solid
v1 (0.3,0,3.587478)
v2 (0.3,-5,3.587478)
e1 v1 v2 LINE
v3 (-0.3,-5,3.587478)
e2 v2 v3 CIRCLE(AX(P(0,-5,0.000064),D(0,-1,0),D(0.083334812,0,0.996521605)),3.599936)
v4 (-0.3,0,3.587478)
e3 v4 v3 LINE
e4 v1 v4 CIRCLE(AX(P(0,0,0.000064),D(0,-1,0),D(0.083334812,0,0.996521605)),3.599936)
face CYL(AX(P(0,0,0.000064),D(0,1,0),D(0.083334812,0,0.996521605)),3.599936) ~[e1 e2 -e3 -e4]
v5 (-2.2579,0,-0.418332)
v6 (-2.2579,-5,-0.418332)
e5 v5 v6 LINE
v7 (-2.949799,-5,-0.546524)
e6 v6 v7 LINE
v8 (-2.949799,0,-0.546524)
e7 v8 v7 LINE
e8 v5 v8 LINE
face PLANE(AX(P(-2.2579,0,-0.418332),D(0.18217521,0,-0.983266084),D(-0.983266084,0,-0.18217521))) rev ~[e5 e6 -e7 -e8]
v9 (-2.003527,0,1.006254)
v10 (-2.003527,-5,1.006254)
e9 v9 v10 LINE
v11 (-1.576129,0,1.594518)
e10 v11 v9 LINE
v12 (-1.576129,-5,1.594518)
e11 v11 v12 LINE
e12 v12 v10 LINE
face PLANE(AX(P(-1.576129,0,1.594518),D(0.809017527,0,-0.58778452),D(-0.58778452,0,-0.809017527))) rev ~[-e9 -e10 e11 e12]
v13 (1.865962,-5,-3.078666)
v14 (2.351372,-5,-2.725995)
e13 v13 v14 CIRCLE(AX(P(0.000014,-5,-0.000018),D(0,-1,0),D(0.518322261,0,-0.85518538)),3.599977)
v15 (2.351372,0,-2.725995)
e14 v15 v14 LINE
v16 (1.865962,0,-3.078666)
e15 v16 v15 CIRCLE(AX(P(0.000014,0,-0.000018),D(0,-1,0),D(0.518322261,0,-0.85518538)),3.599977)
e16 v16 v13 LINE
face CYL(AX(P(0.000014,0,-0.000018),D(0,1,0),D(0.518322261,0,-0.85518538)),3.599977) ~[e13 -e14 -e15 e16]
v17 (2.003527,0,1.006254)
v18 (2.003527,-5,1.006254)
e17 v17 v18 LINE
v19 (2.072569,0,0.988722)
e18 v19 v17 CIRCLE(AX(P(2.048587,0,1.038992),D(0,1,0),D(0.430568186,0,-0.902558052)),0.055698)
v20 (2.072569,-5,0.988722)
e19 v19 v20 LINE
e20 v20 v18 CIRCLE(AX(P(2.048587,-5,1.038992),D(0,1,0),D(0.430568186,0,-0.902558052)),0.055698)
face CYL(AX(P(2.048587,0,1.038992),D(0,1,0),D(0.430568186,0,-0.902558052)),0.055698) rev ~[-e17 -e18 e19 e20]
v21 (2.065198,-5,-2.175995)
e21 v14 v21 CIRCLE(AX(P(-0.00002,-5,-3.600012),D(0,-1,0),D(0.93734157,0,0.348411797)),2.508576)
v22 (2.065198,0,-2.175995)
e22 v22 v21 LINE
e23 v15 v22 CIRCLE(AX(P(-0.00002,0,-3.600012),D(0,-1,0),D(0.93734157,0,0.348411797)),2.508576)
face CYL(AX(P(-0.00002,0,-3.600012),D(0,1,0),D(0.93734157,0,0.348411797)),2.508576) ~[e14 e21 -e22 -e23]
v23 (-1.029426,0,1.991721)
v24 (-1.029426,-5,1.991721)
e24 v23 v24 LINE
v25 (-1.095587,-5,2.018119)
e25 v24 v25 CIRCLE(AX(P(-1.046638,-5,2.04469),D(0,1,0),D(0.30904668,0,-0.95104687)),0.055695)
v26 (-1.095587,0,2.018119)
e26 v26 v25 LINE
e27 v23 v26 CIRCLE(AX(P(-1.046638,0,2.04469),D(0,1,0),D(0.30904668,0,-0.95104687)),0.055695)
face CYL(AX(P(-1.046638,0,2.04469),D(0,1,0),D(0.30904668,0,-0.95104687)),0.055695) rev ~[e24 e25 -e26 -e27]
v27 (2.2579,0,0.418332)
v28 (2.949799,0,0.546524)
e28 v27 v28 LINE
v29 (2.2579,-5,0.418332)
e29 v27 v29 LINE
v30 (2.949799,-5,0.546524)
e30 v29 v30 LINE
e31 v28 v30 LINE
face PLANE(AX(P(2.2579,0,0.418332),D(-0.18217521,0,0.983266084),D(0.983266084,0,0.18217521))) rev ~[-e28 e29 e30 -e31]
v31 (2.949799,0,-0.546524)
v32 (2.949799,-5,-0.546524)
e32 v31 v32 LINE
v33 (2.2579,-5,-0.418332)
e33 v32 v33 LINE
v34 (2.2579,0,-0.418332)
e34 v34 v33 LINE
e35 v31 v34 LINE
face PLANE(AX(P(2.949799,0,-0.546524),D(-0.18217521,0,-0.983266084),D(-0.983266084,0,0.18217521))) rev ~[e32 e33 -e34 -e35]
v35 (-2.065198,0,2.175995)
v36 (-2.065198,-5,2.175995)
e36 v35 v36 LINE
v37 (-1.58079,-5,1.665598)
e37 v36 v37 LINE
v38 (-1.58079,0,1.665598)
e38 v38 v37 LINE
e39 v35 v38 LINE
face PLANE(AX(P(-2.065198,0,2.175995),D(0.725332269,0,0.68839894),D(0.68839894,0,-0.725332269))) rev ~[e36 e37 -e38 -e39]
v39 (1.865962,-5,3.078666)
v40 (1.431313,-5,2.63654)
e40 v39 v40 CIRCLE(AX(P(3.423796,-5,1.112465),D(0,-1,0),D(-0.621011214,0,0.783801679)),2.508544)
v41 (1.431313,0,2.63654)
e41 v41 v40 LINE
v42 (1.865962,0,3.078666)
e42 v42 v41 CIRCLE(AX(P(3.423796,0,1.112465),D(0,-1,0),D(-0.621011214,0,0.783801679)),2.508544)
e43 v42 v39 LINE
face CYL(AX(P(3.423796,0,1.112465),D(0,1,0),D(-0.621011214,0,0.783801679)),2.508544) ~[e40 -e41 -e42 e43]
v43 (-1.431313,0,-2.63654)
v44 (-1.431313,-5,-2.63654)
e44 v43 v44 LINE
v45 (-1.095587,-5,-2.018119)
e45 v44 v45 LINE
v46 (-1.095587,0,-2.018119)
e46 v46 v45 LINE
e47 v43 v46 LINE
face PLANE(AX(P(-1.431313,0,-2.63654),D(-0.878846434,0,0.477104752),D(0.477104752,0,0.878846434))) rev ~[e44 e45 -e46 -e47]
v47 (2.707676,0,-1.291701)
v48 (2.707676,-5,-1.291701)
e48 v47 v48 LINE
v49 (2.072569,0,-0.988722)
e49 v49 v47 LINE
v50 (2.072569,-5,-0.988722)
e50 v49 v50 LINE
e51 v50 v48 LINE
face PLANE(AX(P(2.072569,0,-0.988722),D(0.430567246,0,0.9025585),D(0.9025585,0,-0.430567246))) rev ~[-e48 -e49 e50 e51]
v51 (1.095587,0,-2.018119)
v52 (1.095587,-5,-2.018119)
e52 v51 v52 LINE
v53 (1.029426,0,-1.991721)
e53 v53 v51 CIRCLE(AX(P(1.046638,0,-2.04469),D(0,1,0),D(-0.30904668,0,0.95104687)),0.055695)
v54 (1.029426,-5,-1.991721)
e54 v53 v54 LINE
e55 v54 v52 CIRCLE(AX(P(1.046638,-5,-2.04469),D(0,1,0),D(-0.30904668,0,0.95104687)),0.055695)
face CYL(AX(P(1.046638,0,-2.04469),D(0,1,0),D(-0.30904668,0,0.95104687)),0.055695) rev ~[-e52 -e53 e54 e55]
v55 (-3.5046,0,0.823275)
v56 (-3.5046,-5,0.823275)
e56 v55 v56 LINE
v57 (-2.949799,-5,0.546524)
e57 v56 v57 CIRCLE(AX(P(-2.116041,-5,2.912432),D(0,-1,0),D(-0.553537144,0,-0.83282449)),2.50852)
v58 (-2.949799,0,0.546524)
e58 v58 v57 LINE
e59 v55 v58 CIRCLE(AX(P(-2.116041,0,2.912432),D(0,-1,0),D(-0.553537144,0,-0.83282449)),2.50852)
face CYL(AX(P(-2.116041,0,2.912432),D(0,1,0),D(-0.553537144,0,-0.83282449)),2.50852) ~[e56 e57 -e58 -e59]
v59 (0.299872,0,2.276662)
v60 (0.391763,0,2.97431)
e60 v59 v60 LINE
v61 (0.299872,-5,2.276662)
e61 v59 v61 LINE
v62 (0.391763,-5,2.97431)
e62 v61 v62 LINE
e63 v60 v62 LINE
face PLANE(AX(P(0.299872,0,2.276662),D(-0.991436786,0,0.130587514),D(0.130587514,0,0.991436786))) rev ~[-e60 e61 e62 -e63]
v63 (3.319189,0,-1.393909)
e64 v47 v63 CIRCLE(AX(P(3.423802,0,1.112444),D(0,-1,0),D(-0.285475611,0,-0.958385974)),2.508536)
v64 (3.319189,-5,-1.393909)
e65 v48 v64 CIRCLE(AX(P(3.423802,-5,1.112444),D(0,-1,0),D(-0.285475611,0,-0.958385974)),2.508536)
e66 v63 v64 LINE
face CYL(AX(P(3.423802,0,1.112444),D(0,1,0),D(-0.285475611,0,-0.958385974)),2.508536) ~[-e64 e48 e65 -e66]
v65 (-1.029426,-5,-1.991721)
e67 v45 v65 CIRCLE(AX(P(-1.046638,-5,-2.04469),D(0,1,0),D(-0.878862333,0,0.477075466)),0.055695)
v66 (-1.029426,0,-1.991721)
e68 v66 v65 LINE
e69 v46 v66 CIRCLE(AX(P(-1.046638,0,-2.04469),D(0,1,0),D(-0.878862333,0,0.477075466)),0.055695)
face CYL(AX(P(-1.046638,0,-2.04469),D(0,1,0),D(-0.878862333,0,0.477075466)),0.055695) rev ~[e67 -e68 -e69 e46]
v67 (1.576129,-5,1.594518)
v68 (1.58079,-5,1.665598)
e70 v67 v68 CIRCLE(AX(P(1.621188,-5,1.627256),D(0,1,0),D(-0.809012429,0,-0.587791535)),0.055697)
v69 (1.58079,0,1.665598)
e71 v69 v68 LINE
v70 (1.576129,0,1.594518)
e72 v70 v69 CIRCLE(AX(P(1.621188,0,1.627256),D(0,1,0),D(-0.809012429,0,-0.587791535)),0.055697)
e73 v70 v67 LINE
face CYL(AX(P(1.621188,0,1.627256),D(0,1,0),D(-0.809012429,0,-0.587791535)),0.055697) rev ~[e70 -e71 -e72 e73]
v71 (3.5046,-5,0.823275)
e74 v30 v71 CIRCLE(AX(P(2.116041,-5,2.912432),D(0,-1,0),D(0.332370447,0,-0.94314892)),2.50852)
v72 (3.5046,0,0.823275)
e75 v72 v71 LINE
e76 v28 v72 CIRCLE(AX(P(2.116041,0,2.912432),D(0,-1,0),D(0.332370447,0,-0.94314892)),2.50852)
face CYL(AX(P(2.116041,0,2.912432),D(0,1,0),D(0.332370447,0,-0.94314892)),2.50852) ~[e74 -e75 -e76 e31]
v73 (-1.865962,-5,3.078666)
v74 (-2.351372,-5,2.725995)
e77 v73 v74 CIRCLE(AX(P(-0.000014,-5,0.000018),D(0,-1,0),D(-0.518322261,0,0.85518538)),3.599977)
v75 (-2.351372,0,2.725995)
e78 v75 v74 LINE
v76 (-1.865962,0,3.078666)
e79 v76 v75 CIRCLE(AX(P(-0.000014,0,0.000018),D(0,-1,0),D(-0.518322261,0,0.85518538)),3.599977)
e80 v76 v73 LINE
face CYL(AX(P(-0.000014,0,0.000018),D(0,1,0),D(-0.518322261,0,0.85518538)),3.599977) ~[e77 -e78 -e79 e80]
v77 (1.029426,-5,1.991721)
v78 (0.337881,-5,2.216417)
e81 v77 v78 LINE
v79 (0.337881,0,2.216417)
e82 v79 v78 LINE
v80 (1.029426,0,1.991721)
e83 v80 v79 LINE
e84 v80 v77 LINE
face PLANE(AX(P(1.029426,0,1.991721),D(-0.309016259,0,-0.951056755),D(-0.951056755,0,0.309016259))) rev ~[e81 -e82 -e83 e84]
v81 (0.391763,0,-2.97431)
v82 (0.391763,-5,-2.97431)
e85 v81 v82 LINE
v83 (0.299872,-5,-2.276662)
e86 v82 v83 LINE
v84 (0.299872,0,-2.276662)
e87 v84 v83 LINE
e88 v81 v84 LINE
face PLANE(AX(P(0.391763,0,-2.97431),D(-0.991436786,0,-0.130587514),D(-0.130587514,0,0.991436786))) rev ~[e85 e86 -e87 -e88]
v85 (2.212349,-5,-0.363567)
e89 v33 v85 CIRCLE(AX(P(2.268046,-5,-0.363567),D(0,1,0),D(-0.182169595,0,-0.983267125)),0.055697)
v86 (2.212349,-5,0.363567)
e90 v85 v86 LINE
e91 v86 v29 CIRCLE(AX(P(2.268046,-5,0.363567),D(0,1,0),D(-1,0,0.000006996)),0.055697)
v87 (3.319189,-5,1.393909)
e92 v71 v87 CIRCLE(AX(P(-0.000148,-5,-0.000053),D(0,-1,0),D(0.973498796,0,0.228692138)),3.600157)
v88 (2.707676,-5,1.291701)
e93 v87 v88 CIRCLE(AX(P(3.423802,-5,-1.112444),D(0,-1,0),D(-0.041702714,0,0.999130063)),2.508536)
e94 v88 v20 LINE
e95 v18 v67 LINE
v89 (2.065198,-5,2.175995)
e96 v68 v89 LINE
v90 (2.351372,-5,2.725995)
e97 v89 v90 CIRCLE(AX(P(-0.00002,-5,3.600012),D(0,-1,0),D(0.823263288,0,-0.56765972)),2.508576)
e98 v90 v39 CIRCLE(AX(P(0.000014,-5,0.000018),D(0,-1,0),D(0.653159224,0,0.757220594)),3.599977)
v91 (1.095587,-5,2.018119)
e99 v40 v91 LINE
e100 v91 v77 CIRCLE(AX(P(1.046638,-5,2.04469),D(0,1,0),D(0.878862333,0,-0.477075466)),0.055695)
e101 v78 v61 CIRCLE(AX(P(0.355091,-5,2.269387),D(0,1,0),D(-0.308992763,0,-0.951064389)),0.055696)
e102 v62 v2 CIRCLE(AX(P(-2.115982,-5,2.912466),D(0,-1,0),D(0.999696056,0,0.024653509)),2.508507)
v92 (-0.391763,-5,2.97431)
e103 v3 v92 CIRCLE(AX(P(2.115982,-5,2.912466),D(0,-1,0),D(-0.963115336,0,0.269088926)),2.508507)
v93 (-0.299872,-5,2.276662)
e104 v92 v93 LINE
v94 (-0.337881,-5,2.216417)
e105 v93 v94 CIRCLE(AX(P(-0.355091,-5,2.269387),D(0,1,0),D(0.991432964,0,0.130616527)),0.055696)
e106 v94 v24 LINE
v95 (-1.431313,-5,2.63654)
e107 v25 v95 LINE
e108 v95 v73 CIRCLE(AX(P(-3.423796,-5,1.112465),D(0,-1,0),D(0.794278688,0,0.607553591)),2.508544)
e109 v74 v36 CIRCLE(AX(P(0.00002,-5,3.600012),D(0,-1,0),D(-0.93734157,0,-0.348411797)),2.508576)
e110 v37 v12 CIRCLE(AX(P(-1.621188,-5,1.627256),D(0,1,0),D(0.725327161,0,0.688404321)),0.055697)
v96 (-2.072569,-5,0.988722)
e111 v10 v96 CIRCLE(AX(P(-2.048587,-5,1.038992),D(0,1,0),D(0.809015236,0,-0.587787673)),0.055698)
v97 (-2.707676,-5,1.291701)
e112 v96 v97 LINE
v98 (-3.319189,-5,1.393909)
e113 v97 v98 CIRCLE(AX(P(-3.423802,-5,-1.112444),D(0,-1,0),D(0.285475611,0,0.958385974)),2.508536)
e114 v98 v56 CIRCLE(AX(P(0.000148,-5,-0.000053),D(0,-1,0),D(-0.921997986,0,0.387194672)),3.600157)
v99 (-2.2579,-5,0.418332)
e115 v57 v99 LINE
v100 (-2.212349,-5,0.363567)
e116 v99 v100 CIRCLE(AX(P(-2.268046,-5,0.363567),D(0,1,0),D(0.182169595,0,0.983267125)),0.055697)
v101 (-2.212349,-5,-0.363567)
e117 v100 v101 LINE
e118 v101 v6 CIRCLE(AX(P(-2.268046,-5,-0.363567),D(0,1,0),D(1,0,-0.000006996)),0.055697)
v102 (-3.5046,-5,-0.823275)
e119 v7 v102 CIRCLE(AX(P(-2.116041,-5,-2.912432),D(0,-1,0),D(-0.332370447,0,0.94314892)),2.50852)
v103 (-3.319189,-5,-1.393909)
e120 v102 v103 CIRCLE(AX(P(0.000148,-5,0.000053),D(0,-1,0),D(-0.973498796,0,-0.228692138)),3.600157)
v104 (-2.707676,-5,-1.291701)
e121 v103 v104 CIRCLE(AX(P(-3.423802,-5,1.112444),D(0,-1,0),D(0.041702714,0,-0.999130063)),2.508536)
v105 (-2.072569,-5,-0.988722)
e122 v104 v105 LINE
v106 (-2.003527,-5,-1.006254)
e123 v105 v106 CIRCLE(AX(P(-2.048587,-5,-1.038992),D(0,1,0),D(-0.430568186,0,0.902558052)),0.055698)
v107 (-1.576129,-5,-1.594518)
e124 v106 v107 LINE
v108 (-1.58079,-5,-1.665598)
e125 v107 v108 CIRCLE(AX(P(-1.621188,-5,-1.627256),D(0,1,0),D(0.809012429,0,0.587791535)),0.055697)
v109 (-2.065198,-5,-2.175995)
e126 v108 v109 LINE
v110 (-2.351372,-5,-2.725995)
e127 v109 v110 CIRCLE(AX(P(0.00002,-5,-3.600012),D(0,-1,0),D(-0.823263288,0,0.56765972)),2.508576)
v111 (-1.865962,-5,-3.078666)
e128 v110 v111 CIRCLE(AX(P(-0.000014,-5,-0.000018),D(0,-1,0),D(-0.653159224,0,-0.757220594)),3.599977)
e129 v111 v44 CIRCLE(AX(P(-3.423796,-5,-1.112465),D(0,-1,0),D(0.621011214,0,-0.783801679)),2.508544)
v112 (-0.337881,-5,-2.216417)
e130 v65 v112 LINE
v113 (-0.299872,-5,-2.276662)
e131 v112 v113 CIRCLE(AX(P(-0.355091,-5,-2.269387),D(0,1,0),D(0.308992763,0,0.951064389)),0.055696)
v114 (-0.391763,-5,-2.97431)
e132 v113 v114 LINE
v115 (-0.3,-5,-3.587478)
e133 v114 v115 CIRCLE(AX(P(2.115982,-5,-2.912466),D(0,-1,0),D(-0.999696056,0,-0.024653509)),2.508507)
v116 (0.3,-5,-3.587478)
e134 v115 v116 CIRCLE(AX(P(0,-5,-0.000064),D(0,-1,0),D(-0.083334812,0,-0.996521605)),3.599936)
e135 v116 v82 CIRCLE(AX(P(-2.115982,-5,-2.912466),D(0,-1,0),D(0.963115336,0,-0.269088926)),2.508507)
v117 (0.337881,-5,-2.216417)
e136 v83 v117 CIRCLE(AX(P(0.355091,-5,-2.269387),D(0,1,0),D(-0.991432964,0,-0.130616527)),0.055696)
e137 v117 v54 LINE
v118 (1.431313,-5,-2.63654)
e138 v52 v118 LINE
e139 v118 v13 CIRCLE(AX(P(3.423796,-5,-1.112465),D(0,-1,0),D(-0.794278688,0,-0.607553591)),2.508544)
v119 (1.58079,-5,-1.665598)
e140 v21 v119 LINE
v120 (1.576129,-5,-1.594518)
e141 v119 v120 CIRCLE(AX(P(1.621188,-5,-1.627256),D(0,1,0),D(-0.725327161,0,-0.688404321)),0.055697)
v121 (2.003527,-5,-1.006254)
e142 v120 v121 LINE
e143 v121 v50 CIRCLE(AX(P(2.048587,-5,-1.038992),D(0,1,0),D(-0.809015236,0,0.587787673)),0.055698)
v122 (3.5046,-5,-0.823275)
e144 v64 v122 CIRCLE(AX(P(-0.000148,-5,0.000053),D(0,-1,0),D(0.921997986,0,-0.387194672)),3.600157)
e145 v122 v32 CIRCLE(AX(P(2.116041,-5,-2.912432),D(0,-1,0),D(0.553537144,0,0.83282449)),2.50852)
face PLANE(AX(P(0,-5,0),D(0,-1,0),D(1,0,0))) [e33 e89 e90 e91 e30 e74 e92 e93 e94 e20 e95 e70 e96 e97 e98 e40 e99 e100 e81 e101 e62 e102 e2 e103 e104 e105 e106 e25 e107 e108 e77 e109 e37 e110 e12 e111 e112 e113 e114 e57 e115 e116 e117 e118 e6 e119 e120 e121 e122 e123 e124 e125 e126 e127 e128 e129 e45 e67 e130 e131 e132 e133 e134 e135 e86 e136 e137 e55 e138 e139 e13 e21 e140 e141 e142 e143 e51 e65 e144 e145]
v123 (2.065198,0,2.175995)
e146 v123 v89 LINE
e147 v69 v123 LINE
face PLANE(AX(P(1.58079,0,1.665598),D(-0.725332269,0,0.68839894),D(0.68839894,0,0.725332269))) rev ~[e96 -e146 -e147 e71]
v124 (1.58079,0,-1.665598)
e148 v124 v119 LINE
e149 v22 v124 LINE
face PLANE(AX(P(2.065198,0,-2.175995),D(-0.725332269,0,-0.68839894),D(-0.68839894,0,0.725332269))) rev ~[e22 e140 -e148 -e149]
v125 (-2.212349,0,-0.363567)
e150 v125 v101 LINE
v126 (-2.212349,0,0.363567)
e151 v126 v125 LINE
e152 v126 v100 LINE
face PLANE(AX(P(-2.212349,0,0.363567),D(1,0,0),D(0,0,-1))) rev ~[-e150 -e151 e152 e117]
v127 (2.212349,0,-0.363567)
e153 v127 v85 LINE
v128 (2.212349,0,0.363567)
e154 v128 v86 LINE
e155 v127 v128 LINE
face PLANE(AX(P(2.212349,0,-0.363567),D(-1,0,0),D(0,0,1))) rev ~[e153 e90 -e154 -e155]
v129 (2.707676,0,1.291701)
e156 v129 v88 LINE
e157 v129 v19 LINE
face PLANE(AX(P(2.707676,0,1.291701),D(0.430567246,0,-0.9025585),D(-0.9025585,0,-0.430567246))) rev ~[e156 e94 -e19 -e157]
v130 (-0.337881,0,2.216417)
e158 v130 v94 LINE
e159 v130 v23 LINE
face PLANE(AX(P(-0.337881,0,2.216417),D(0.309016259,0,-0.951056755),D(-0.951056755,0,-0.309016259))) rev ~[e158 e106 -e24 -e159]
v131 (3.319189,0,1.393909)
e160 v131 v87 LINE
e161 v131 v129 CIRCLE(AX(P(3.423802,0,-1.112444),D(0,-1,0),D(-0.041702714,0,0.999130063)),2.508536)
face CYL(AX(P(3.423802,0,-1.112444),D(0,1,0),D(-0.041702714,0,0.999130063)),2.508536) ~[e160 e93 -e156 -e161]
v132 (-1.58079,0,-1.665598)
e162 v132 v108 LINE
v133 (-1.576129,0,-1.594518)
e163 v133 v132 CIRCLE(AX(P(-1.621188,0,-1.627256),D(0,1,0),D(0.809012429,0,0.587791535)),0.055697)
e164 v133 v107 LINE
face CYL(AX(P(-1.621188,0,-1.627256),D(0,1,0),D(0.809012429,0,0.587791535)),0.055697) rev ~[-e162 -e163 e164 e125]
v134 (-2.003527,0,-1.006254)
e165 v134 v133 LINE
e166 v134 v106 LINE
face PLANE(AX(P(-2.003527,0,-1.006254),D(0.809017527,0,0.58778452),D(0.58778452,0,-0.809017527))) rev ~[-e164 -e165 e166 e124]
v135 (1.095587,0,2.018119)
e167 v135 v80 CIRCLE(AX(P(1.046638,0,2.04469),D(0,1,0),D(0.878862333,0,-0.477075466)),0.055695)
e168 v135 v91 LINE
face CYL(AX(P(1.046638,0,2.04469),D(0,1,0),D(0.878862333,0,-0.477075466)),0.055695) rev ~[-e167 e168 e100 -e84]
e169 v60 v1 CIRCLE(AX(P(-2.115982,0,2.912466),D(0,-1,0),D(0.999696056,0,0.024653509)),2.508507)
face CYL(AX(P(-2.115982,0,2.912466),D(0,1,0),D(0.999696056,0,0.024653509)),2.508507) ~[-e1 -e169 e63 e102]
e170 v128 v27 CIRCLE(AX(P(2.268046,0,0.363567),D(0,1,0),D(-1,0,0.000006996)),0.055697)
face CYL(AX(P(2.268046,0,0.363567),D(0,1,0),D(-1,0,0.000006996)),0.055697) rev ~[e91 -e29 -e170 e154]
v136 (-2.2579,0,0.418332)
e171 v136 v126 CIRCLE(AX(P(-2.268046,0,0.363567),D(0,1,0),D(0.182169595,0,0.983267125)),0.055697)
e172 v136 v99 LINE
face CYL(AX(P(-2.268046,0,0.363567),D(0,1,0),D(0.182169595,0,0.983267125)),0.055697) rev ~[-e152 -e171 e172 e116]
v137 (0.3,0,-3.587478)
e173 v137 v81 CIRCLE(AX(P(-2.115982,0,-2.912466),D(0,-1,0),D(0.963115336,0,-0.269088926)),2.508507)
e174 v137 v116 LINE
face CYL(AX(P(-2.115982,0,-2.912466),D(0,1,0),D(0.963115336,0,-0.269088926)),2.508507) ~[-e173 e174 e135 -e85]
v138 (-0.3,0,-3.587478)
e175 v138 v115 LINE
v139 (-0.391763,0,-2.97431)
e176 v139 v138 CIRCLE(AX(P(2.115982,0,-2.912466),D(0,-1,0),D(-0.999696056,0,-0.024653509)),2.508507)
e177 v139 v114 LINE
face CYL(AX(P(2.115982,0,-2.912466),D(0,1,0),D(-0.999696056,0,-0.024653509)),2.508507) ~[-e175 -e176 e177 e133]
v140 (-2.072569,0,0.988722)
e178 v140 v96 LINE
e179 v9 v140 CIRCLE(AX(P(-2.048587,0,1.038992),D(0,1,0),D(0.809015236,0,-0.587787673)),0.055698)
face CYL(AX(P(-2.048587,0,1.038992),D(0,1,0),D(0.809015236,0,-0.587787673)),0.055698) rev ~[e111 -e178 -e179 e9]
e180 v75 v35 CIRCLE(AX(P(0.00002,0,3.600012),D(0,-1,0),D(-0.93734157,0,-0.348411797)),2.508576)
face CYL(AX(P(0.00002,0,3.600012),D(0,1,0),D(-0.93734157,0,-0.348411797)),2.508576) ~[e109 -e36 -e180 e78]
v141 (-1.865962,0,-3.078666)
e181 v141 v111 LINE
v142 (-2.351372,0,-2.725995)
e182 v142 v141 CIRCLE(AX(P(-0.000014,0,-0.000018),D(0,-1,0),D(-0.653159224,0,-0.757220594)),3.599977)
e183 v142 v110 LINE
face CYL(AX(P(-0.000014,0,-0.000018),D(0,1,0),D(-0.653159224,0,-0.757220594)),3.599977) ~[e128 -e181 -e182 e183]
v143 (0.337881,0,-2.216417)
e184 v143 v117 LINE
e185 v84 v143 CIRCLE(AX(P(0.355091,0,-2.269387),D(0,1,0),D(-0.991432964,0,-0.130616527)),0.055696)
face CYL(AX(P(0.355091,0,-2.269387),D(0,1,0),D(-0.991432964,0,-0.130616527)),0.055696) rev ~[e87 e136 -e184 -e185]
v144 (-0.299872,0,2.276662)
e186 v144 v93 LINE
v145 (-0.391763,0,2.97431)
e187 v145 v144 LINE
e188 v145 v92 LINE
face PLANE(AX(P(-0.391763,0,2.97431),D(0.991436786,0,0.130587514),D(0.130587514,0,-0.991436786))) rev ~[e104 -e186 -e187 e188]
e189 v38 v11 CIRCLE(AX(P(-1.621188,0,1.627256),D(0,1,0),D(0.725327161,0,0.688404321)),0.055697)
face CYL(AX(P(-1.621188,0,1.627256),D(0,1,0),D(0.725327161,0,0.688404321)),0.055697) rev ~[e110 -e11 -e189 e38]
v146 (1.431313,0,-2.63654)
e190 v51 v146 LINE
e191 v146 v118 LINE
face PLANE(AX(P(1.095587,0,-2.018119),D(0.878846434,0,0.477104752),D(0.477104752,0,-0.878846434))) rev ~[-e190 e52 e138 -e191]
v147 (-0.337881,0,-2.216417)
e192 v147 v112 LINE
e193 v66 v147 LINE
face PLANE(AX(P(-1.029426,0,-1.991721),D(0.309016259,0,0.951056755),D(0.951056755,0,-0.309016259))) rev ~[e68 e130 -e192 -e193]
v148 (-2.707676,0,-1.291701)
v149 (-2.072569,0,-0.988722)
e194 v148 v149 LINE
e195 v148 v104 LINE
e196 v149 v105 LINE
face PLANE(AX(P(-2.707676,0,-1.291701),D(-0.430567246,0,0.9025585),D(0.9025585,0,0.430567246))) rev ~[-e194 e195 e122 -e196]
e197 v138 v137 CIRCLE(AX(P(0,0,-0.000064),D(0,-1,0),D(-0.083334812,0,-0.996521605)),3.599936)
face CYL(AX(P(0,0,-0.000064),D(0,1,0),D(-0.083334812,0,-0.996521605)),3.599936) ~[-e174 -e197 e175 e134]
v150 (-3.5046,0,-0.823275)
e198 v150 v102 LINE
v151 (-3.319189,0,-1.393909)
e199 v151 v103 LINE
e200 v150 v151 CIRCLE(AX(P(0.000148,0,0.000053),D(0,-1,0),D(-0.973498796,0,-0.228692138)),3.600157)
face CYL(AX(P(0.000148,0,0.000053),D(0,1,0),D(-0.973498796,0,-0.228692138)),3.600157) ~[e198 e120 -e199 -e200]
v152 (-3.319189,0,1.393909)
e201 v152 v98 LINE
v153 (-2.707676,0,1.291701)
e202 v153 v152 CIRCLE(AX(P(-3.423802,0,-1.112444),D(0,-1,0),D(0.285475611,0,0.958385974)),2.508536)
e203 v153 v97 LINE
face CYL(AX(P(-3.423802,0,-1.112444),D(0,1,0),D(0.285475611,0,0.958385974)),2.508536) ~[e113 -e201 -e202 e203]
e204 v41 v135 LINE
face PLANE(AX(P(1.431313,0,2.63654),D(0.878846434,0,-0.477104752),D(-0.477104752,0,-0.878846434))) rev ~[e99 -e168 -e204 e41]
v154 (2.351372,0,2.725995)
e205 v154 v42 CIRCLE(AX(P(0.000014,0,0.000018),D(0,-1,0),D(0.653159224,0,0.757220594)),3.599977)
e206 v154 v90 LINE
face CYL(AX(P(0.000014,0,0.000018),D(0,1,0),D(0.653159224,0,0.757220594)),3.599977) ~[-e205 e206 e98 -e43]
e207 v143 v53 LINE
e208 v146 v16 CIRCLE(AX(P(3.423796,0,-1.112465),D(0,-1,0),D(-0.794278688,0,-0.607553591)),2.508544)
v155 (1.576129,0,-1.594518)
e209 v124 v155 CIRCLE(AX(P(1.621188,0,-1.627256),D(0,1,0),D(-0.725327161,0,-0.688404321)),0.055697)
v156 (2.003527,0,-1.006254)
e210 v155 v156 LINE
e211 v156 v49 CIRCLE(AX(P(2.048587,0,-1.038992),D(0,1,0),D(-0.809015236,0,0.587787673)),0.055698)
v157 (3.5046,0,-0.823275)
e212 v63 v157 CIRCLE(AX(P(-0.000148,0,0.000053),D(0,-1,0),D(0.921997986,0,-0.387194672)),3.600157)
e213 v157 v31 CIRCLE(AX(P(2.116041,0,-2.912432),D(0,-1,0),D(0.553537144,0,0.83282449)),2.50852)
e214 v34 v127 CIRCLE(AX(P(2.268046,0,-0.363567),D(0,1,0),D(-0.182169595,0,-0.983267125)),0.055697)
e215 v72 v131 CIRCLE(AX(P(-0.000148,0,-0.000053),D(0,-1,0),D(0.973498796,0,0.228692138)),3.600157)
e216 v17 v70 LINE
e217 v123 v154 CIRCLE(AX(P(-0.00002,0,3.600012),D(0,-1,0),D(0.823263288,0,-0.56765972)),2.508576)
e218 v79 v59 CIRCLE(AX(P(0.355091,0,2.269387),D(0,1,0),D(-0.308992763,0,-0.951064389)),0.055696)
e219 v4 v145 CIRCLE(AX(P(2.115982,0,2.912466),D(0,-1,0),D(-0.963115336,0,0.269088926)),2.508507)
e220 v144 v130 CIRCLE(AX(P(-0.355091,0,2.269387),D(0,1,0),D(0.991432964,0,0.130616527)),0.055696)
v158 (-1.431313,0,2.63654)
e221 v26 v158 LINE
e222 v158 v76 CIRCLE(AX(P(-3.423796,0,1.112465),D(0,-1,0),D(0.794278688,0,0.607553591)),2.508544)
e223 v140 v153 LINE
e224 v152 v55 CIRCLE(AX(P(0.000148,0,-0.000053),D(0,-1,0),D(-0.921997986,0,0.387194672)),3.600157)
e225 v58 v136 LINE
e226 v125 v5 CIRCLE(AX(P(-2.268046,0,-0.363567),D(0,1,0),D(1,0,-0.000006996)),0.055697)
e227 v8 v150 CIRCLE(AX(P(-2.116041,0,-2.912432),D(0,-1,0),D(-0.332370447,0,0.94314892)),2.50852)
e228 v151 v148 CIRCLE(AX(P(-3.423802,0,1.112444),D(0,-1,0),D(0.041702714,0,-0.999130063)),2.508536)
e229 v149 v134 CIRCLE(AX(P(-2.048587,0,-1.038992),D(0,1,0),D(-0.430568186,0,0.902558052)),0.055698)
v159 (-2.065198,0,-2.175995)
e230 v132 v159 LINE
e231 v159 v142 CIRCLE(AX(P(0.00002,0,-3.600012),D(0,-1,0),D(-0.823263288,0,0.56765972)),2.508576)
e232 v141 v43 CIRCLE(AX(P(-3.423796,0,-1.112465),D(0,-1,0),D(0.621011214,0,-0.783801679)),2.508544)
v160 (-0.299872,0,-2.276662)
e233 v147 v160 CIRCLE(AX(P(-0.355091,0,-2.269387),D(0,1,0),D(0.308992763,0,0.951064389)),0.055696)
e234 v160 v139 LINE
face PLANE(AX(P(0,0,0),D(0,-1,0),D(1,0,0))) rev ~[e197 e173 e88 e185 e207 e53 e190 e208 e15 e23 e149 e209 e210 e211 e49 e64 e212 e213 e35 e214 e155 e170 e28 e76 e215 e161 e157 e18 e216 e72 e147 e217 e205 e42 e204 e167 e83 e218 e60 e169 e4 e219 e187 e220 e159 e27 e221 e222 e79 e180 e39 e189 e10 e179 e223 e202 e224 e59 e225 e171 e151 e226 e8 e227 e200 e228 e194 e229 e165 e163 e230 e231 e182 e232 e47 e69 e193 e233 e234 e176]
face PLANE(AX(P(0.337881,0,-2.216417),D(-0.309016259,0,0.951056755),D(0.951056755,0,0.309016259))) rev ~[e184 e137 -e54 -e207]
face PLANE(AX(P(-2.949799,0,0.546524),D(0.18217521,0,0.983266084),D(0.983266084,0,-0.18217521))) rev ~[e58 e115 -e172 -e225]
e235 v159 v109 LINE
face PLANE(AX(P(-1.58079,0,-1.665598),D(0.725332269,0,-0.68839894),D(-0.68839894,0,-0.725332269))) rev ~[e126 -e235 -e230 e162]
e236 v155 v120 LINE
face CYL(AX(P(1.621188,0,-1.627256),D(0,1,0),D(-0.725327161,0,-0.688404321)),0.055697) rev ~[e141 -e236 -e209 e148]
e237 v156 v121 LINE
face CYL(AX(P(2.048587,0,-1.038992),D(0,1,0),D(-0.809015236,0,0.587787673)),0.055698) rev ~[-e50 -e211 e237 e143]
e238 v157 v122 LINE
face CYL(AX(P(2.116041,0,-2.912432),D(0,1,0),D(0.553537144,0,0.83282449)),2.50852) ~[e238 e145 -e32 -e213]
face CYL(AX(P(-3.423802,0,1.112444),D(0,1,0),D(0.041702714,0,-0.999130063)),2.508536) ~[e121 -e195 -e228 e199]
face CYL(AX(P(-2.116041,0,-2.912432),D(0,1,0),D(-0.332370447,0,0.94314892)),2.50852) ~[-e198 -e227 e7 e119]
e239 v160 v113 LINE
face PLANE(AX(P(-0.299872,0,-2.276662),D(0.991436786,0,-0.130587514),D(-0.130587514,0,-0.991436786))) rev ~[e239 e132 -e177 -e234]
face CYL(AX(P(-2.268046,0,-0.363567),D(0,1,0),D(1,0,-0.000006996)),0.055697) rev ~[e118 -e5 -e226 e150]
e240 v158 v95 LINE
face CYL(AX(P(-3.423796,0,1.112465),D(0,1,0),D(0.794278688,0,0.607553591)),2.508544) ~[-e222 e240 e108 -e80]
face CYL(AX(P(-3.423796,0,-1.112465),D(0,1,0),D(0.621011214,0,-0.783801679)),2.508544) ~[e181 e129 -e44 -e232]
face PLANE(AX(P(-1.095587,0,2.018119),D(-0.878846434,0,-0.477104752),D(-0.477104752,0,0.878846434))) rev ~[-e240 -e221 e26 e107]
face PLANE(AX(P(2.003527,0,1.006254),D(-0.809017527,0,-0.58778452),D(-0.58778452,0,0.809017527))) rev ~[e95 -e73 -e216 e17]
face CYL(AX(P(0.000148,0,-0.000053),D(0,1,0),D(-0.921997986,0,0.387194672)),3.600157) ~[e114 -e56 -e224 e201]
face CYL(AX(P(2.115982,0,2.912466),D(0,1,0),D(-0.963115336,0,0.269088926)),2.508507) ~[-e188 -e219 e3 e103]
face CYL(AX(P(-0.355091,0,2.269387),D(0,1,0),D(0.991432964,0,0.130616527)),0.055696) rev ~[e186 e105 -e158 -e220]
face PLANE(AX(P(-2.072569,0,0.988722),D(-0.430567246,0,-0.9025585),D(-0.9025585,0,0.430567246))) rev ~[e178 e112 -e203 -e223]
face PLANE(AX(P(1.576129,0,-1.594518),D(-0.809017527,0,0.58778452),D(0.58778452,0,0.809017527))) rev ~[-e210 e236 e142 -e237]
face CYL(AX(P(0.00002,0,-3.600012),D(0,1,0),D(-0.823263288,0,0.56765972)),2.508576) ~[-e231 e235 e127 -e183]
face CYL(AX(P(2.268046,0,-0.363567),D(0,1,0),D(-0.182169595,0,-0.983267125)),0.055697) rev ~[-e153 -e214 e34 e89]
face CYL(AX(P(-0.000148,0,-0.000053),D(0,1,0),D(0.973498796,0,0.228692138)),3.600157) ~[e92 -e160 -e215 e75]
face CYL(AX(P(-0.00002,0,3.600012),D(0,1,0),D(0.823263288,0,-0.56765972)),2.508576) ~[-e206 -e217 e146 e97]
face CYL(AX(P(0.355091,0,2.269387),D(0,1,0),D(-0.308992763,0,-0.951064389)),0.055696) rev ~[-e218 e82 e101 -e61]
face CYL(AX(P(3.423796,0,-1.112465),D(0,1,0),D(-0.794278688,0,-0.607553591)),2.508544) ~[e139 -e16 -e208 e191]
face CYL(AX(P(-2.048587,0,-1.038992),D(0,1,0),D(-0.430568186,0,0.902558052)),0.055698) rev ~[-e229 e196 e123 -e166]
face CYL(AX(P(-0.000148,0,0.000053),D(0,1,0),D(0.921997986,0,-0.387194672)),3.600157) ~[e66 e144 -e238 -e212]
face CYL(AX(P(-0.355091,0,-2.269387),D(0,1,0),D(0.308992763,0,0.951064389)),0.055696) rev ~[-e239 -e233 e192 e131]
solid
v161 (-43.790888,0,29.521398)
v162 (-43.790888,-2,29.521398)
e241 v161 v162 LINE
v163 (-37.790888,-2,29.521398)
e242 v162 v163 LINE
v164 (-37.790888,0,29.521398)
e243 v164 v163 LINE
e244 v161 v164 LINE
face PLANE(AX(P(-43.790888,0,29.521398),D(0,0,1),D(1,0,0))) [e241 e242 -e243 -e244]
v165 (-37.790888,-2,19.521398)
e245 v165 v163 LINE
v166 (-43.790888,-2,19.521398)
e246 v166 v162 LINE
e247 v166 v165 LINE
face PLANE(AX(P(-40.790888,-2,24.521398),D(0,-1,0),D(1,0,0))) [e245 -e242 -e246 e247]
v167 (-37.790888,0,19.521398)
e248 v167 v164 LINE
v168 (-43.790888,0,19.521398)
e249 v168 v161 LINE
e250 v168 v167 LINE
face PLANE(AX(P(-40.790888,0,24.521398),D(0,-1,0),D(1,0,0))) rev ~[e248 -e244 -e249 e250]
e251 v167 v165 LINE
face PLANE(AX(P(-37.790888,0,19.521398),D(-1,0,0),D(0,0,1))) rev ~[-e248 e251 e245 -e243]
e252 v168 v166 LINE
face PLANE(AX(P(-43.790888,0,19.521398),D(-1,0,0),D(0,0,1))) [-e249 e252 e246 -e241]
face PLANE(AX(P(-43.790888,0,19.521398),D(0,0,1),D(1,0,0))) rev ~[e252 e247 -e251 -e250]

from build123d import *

# Parameters (mm, degrees)
F1_DEPTH = 5
F2_W     = 6
F2_H     = 10
F3_DEPTH = 2


with BuildPart() as f1:
    # F0 (on Front) → F1 (new body)
    with BuildSketch(Plane.XZ):
        with BuildLine():
            ThreePointArc((0.391763, 2.97431), (0.364898, 3.28374), (0.3, 3.587478))
            ThreePointArc((0.3, 3.587478), (0, 3.6), (-0.3, 3.587478))
            ThreePointArc((-0.3, 3.587478), (-0.364898, 3.28374), (-0.391763, 2.97431))
            Line((-0.391763, 2.97431), (-0.299872, 2.276662))
            ThreePointArc((-0.299872, 2.276662), (-0.307986, 2.239669), (-0.337881, 2.216417))
            Line((-0.337881, 2.216417), (-1.029426, 1.991721))
            ThreePointArc((-1.029426, 1.991721), (-1.067278, 1.99296), (-1.095587, 2.018119))
            Line((-1.095587, 2.018119), (-1.431313, 2.63654))
            ThreePointArc((-1.431313, 2.63654), (-1.634926, 2.871083), (-1.865962, 3.078666))
            ThreePointArc((-1.865962, 3.078666), (-2.116027, 2.912461), (-2.351372, 2.725995))
            ThreePointArc((-2.351372, 2.725995), (-2.225342, 2.44212), (-2.065198, 2.175995))
            Line((-2.065198, 2.175995), (-1.58079, 1.665598))
            ThreePointArc((-1.58079, 1.665598), (-1.565611, 1.630901), (-1.576129, 1.594518))
            Line((-1.576129, 1.594518), (-2.003527, 1.006254))
            ThreePointArc((-2.003527, 1.006254), (-2.034879, 0.985008), (-2.072569, 0.988722))
            Line((-2.072569, 0.988722), (-2.707676, 1.291701))
            ThreePointArc((-2.707676, 1.291701), (-3.010263, 1.36177), (-3.319189, 1.393909))
            ThreePointArc((-3.319189, 1.393909), (-3.423803, 1.112461), (-3.5046, 0.823275))
            ThreePointArc((-3.5046, 0.823275), (-3.235782, 0.667693), (-2.949799, 0.546524))
            Line((-2.949799, 0.546524), (-2.2579, 0.418332))
            ThreePointArc((-2.2579, 0.418332), (-2.225225, 0.399183), (-2.212349, 0.363567))
            Line((-2.212349, 0.363567), (-2.212349, -0.363567))
            ThreePointArc((-2.212349, -0.363567), (-2.225225, -0.399183), (-2.2579, -0.418332))
            Line((-2.2579, -0.418332), (-2.949799, -0.546524))
            ThreePointArc((-2.949799, -0.546524), (-3.235782, -0.667693), (-3.5046, -0.823275))
            ThreePointArc((-3.5046, -0.823275), (-3.423803, -1.112461), (-3.319189, -1.393909))
            ThreePointArc((-3.319189, -1.393909), (-3.010263, -1.36177), (-2.707676, -1.291701))
            Line((-2.707676, -1.291701), (-2.072569, -0.988722))
            ThreePointArc((-2.072569, -0.988722), (-2.034879, -0.985008), (-2.003527, -1.006254))
            Line((-2.003527, -1.006254), (-1.576129, -1.594518))
            ThreePointArc((-1.576129, -1.594518), (-1.565611, -1.630901), (-1.58079, -1.665598))
            Line((-1.58079, -1.665598), (-2.065198, -2.175995))
            ThreePointArc((-2.065198, -2.175995), (-2.225342, -2.44212), (-2.351372, -2.725995))
            ThreePointArc((-2.351372, -2.725995), (-2.116027, -2.912461), (-1.865962, -3.078666))
            ThreePointArc((-1.865962, -3.078666), (-1.634926, -2.871083), (-1.431313, -2.63654))
            Line((-1.431313, -2.63654), (-1.095587, -2.018119))
            ThreePointArc((-1.095587, -2.018119), (-1.067278, -1.99296), (-1.029426, -1.991721))
            Line((-1.029426, -1.991721), (-0.337881, -2.216417))
            ThreePointArc((-0.337881, -2.216417), (-0.307986, -2.239669), (-0.299872, -2.276662))
            Line((-0.299872, -2.276662), (-0.391763, -2.97431))
            ThreePointArc((-0.391763, -2.97431), (-0.364898, -3.28374), (-0.3, -3.587478))
            ThreePointArc((-0.3, -3.587478), (0, -3.6), (0.3, -3.587478))
            ThreePointArc((0.3, -3.587478), (0.364898, -3.28374), (0.391763, -2.97431))
            Line((0.391763, -2.97431), (0.299872, -2.276662))
            ThreePointArc((0.299872, -2.276662), (0.307986, -2.239669), (0.337881, -2.216417))
            Line((0.337881, -2.216417), (1.029426, -1.991721))
            ThreePointArc((1.029426, -1.991721), (1.067278, -1.99296), (1.095587, -2.018119))
            Line((1.095587, -2.018119), (1.431313, -2.63654))
            ThreePointArc((1.431313, -2.63654), (1.634926, -2.871083), (1.865962, -3.078666))
            ThreePointArc((1.865962, -3.078666), (2.116027, -2.912461), (2.351372, -2.725995))
            ThreePointArc((2.351372, -2.725995), (2.225342, -2.44212), (2.065198, -2.175995))
            Line((2.065198, -2.175995), (1.58079, -1.665598))
            ThreePointArc((1.58079, -1.665598), (1.565611, -1.630901), (1.576129, -1.594518))
            Line((1.576129, -1.594518), (2.003527, -1.006254))
            ThreePointArc((2.003527, -1.006254), (2.034879, -0.985008), (2.072569, -0.988722))
            Line((2.072569, -0.988722), (2.707676, -1.291701))
            ThreePointArc((2.707676, -1.291701), (3.010263, -1.36177), (3.319189, -1.393909))
            ThreePointArc((3.319189, -1.393909), (3.423803, -1.112461), (3.5046, -0.823275))
            ThreePointArc((3.5046, -0.823275), (3.235782, -0.667693), (2.949799, -0.546524))
            Line((2.949799, -0.546524), (2.2579, -0.418332))
            ThreePointArc((2.2579, -0.418332), (2.225225, -0.399183), (2.212349, -0.363567))
            Line((2.212349, -0.363567), (2.212349, 0.363567))
            ThreePointArc((2.212349, 0.363567), (2.225225, 0.399183), (2.2579, 0.418332))
            Line((2.2579, 0.418332), (2.949799, 0.546524))
            ThreePointArc((2.949799, 0.546524), (3.235782, 0.667693), (3.5046, 0.823275))
            ThreePointArc((3.5046, 0.823275), (3.423803, 1.112461), (3.319189, 1.393909))
            ThreePointArc((3.319189, 1.393909), (3.010263, 1.36177), (2.707676, 1.291701))
            Line((2.707676, 1.291701), (2.072569, 0.988722))
            ThreePointArc((2.072569, 0.988722), (2.034879, 0.985008), (2.003527, 1.006254))
            Line((2.003527, 1.006254), (1.576129, 1.594518))
            ThreePointArc((1.576129, 1.594518), (1.565611, 1.630901), (1.58079, 1.665598))
            Line((1.58079, 1.665598), (2.065198, 2.175995))
            ThreePointArc((2.065198, 2.175995), (2.225342, 2.44212), (2.351372, 2.725995))
            ThreePointArc((2.351372, 2.725995), (2.116027, 2.912461), (1.865962, 3.078666))
            ThreePointArc((1.865962, 3.078666), (1.634926, 2.871083), (1.431313, 2.63654))
            Line((1.431313, 2.63654), (1.095587, 2.018119))
            ThreePointArc((1.095587, 2.018119), (1.067278, 1.99296), (1.029426, 1.991721))
            Line((1.029426, 1.991721), (0.337881, 2.216417))
            ThreePointArc((0.337881, 2.216417), (0.307986, 2.239669), (0.299872, 2.276662))
            Line((0.299872, 2.276662), (0.391763, 2.97431))
        make_face()
    extrude(amount=F1_DEPTH)


with BuildPart() as f3:
    # F2 (on Front) → F3 (new body)
    with BuildSketch(Plane.XZ):
        with Locations((-40.790888, 24.521398)):
            Rectangle(F2_W, F2_H)
    extrude(amount=F3_DEPTH)


solid = Compound([f1.part, f3.part])
